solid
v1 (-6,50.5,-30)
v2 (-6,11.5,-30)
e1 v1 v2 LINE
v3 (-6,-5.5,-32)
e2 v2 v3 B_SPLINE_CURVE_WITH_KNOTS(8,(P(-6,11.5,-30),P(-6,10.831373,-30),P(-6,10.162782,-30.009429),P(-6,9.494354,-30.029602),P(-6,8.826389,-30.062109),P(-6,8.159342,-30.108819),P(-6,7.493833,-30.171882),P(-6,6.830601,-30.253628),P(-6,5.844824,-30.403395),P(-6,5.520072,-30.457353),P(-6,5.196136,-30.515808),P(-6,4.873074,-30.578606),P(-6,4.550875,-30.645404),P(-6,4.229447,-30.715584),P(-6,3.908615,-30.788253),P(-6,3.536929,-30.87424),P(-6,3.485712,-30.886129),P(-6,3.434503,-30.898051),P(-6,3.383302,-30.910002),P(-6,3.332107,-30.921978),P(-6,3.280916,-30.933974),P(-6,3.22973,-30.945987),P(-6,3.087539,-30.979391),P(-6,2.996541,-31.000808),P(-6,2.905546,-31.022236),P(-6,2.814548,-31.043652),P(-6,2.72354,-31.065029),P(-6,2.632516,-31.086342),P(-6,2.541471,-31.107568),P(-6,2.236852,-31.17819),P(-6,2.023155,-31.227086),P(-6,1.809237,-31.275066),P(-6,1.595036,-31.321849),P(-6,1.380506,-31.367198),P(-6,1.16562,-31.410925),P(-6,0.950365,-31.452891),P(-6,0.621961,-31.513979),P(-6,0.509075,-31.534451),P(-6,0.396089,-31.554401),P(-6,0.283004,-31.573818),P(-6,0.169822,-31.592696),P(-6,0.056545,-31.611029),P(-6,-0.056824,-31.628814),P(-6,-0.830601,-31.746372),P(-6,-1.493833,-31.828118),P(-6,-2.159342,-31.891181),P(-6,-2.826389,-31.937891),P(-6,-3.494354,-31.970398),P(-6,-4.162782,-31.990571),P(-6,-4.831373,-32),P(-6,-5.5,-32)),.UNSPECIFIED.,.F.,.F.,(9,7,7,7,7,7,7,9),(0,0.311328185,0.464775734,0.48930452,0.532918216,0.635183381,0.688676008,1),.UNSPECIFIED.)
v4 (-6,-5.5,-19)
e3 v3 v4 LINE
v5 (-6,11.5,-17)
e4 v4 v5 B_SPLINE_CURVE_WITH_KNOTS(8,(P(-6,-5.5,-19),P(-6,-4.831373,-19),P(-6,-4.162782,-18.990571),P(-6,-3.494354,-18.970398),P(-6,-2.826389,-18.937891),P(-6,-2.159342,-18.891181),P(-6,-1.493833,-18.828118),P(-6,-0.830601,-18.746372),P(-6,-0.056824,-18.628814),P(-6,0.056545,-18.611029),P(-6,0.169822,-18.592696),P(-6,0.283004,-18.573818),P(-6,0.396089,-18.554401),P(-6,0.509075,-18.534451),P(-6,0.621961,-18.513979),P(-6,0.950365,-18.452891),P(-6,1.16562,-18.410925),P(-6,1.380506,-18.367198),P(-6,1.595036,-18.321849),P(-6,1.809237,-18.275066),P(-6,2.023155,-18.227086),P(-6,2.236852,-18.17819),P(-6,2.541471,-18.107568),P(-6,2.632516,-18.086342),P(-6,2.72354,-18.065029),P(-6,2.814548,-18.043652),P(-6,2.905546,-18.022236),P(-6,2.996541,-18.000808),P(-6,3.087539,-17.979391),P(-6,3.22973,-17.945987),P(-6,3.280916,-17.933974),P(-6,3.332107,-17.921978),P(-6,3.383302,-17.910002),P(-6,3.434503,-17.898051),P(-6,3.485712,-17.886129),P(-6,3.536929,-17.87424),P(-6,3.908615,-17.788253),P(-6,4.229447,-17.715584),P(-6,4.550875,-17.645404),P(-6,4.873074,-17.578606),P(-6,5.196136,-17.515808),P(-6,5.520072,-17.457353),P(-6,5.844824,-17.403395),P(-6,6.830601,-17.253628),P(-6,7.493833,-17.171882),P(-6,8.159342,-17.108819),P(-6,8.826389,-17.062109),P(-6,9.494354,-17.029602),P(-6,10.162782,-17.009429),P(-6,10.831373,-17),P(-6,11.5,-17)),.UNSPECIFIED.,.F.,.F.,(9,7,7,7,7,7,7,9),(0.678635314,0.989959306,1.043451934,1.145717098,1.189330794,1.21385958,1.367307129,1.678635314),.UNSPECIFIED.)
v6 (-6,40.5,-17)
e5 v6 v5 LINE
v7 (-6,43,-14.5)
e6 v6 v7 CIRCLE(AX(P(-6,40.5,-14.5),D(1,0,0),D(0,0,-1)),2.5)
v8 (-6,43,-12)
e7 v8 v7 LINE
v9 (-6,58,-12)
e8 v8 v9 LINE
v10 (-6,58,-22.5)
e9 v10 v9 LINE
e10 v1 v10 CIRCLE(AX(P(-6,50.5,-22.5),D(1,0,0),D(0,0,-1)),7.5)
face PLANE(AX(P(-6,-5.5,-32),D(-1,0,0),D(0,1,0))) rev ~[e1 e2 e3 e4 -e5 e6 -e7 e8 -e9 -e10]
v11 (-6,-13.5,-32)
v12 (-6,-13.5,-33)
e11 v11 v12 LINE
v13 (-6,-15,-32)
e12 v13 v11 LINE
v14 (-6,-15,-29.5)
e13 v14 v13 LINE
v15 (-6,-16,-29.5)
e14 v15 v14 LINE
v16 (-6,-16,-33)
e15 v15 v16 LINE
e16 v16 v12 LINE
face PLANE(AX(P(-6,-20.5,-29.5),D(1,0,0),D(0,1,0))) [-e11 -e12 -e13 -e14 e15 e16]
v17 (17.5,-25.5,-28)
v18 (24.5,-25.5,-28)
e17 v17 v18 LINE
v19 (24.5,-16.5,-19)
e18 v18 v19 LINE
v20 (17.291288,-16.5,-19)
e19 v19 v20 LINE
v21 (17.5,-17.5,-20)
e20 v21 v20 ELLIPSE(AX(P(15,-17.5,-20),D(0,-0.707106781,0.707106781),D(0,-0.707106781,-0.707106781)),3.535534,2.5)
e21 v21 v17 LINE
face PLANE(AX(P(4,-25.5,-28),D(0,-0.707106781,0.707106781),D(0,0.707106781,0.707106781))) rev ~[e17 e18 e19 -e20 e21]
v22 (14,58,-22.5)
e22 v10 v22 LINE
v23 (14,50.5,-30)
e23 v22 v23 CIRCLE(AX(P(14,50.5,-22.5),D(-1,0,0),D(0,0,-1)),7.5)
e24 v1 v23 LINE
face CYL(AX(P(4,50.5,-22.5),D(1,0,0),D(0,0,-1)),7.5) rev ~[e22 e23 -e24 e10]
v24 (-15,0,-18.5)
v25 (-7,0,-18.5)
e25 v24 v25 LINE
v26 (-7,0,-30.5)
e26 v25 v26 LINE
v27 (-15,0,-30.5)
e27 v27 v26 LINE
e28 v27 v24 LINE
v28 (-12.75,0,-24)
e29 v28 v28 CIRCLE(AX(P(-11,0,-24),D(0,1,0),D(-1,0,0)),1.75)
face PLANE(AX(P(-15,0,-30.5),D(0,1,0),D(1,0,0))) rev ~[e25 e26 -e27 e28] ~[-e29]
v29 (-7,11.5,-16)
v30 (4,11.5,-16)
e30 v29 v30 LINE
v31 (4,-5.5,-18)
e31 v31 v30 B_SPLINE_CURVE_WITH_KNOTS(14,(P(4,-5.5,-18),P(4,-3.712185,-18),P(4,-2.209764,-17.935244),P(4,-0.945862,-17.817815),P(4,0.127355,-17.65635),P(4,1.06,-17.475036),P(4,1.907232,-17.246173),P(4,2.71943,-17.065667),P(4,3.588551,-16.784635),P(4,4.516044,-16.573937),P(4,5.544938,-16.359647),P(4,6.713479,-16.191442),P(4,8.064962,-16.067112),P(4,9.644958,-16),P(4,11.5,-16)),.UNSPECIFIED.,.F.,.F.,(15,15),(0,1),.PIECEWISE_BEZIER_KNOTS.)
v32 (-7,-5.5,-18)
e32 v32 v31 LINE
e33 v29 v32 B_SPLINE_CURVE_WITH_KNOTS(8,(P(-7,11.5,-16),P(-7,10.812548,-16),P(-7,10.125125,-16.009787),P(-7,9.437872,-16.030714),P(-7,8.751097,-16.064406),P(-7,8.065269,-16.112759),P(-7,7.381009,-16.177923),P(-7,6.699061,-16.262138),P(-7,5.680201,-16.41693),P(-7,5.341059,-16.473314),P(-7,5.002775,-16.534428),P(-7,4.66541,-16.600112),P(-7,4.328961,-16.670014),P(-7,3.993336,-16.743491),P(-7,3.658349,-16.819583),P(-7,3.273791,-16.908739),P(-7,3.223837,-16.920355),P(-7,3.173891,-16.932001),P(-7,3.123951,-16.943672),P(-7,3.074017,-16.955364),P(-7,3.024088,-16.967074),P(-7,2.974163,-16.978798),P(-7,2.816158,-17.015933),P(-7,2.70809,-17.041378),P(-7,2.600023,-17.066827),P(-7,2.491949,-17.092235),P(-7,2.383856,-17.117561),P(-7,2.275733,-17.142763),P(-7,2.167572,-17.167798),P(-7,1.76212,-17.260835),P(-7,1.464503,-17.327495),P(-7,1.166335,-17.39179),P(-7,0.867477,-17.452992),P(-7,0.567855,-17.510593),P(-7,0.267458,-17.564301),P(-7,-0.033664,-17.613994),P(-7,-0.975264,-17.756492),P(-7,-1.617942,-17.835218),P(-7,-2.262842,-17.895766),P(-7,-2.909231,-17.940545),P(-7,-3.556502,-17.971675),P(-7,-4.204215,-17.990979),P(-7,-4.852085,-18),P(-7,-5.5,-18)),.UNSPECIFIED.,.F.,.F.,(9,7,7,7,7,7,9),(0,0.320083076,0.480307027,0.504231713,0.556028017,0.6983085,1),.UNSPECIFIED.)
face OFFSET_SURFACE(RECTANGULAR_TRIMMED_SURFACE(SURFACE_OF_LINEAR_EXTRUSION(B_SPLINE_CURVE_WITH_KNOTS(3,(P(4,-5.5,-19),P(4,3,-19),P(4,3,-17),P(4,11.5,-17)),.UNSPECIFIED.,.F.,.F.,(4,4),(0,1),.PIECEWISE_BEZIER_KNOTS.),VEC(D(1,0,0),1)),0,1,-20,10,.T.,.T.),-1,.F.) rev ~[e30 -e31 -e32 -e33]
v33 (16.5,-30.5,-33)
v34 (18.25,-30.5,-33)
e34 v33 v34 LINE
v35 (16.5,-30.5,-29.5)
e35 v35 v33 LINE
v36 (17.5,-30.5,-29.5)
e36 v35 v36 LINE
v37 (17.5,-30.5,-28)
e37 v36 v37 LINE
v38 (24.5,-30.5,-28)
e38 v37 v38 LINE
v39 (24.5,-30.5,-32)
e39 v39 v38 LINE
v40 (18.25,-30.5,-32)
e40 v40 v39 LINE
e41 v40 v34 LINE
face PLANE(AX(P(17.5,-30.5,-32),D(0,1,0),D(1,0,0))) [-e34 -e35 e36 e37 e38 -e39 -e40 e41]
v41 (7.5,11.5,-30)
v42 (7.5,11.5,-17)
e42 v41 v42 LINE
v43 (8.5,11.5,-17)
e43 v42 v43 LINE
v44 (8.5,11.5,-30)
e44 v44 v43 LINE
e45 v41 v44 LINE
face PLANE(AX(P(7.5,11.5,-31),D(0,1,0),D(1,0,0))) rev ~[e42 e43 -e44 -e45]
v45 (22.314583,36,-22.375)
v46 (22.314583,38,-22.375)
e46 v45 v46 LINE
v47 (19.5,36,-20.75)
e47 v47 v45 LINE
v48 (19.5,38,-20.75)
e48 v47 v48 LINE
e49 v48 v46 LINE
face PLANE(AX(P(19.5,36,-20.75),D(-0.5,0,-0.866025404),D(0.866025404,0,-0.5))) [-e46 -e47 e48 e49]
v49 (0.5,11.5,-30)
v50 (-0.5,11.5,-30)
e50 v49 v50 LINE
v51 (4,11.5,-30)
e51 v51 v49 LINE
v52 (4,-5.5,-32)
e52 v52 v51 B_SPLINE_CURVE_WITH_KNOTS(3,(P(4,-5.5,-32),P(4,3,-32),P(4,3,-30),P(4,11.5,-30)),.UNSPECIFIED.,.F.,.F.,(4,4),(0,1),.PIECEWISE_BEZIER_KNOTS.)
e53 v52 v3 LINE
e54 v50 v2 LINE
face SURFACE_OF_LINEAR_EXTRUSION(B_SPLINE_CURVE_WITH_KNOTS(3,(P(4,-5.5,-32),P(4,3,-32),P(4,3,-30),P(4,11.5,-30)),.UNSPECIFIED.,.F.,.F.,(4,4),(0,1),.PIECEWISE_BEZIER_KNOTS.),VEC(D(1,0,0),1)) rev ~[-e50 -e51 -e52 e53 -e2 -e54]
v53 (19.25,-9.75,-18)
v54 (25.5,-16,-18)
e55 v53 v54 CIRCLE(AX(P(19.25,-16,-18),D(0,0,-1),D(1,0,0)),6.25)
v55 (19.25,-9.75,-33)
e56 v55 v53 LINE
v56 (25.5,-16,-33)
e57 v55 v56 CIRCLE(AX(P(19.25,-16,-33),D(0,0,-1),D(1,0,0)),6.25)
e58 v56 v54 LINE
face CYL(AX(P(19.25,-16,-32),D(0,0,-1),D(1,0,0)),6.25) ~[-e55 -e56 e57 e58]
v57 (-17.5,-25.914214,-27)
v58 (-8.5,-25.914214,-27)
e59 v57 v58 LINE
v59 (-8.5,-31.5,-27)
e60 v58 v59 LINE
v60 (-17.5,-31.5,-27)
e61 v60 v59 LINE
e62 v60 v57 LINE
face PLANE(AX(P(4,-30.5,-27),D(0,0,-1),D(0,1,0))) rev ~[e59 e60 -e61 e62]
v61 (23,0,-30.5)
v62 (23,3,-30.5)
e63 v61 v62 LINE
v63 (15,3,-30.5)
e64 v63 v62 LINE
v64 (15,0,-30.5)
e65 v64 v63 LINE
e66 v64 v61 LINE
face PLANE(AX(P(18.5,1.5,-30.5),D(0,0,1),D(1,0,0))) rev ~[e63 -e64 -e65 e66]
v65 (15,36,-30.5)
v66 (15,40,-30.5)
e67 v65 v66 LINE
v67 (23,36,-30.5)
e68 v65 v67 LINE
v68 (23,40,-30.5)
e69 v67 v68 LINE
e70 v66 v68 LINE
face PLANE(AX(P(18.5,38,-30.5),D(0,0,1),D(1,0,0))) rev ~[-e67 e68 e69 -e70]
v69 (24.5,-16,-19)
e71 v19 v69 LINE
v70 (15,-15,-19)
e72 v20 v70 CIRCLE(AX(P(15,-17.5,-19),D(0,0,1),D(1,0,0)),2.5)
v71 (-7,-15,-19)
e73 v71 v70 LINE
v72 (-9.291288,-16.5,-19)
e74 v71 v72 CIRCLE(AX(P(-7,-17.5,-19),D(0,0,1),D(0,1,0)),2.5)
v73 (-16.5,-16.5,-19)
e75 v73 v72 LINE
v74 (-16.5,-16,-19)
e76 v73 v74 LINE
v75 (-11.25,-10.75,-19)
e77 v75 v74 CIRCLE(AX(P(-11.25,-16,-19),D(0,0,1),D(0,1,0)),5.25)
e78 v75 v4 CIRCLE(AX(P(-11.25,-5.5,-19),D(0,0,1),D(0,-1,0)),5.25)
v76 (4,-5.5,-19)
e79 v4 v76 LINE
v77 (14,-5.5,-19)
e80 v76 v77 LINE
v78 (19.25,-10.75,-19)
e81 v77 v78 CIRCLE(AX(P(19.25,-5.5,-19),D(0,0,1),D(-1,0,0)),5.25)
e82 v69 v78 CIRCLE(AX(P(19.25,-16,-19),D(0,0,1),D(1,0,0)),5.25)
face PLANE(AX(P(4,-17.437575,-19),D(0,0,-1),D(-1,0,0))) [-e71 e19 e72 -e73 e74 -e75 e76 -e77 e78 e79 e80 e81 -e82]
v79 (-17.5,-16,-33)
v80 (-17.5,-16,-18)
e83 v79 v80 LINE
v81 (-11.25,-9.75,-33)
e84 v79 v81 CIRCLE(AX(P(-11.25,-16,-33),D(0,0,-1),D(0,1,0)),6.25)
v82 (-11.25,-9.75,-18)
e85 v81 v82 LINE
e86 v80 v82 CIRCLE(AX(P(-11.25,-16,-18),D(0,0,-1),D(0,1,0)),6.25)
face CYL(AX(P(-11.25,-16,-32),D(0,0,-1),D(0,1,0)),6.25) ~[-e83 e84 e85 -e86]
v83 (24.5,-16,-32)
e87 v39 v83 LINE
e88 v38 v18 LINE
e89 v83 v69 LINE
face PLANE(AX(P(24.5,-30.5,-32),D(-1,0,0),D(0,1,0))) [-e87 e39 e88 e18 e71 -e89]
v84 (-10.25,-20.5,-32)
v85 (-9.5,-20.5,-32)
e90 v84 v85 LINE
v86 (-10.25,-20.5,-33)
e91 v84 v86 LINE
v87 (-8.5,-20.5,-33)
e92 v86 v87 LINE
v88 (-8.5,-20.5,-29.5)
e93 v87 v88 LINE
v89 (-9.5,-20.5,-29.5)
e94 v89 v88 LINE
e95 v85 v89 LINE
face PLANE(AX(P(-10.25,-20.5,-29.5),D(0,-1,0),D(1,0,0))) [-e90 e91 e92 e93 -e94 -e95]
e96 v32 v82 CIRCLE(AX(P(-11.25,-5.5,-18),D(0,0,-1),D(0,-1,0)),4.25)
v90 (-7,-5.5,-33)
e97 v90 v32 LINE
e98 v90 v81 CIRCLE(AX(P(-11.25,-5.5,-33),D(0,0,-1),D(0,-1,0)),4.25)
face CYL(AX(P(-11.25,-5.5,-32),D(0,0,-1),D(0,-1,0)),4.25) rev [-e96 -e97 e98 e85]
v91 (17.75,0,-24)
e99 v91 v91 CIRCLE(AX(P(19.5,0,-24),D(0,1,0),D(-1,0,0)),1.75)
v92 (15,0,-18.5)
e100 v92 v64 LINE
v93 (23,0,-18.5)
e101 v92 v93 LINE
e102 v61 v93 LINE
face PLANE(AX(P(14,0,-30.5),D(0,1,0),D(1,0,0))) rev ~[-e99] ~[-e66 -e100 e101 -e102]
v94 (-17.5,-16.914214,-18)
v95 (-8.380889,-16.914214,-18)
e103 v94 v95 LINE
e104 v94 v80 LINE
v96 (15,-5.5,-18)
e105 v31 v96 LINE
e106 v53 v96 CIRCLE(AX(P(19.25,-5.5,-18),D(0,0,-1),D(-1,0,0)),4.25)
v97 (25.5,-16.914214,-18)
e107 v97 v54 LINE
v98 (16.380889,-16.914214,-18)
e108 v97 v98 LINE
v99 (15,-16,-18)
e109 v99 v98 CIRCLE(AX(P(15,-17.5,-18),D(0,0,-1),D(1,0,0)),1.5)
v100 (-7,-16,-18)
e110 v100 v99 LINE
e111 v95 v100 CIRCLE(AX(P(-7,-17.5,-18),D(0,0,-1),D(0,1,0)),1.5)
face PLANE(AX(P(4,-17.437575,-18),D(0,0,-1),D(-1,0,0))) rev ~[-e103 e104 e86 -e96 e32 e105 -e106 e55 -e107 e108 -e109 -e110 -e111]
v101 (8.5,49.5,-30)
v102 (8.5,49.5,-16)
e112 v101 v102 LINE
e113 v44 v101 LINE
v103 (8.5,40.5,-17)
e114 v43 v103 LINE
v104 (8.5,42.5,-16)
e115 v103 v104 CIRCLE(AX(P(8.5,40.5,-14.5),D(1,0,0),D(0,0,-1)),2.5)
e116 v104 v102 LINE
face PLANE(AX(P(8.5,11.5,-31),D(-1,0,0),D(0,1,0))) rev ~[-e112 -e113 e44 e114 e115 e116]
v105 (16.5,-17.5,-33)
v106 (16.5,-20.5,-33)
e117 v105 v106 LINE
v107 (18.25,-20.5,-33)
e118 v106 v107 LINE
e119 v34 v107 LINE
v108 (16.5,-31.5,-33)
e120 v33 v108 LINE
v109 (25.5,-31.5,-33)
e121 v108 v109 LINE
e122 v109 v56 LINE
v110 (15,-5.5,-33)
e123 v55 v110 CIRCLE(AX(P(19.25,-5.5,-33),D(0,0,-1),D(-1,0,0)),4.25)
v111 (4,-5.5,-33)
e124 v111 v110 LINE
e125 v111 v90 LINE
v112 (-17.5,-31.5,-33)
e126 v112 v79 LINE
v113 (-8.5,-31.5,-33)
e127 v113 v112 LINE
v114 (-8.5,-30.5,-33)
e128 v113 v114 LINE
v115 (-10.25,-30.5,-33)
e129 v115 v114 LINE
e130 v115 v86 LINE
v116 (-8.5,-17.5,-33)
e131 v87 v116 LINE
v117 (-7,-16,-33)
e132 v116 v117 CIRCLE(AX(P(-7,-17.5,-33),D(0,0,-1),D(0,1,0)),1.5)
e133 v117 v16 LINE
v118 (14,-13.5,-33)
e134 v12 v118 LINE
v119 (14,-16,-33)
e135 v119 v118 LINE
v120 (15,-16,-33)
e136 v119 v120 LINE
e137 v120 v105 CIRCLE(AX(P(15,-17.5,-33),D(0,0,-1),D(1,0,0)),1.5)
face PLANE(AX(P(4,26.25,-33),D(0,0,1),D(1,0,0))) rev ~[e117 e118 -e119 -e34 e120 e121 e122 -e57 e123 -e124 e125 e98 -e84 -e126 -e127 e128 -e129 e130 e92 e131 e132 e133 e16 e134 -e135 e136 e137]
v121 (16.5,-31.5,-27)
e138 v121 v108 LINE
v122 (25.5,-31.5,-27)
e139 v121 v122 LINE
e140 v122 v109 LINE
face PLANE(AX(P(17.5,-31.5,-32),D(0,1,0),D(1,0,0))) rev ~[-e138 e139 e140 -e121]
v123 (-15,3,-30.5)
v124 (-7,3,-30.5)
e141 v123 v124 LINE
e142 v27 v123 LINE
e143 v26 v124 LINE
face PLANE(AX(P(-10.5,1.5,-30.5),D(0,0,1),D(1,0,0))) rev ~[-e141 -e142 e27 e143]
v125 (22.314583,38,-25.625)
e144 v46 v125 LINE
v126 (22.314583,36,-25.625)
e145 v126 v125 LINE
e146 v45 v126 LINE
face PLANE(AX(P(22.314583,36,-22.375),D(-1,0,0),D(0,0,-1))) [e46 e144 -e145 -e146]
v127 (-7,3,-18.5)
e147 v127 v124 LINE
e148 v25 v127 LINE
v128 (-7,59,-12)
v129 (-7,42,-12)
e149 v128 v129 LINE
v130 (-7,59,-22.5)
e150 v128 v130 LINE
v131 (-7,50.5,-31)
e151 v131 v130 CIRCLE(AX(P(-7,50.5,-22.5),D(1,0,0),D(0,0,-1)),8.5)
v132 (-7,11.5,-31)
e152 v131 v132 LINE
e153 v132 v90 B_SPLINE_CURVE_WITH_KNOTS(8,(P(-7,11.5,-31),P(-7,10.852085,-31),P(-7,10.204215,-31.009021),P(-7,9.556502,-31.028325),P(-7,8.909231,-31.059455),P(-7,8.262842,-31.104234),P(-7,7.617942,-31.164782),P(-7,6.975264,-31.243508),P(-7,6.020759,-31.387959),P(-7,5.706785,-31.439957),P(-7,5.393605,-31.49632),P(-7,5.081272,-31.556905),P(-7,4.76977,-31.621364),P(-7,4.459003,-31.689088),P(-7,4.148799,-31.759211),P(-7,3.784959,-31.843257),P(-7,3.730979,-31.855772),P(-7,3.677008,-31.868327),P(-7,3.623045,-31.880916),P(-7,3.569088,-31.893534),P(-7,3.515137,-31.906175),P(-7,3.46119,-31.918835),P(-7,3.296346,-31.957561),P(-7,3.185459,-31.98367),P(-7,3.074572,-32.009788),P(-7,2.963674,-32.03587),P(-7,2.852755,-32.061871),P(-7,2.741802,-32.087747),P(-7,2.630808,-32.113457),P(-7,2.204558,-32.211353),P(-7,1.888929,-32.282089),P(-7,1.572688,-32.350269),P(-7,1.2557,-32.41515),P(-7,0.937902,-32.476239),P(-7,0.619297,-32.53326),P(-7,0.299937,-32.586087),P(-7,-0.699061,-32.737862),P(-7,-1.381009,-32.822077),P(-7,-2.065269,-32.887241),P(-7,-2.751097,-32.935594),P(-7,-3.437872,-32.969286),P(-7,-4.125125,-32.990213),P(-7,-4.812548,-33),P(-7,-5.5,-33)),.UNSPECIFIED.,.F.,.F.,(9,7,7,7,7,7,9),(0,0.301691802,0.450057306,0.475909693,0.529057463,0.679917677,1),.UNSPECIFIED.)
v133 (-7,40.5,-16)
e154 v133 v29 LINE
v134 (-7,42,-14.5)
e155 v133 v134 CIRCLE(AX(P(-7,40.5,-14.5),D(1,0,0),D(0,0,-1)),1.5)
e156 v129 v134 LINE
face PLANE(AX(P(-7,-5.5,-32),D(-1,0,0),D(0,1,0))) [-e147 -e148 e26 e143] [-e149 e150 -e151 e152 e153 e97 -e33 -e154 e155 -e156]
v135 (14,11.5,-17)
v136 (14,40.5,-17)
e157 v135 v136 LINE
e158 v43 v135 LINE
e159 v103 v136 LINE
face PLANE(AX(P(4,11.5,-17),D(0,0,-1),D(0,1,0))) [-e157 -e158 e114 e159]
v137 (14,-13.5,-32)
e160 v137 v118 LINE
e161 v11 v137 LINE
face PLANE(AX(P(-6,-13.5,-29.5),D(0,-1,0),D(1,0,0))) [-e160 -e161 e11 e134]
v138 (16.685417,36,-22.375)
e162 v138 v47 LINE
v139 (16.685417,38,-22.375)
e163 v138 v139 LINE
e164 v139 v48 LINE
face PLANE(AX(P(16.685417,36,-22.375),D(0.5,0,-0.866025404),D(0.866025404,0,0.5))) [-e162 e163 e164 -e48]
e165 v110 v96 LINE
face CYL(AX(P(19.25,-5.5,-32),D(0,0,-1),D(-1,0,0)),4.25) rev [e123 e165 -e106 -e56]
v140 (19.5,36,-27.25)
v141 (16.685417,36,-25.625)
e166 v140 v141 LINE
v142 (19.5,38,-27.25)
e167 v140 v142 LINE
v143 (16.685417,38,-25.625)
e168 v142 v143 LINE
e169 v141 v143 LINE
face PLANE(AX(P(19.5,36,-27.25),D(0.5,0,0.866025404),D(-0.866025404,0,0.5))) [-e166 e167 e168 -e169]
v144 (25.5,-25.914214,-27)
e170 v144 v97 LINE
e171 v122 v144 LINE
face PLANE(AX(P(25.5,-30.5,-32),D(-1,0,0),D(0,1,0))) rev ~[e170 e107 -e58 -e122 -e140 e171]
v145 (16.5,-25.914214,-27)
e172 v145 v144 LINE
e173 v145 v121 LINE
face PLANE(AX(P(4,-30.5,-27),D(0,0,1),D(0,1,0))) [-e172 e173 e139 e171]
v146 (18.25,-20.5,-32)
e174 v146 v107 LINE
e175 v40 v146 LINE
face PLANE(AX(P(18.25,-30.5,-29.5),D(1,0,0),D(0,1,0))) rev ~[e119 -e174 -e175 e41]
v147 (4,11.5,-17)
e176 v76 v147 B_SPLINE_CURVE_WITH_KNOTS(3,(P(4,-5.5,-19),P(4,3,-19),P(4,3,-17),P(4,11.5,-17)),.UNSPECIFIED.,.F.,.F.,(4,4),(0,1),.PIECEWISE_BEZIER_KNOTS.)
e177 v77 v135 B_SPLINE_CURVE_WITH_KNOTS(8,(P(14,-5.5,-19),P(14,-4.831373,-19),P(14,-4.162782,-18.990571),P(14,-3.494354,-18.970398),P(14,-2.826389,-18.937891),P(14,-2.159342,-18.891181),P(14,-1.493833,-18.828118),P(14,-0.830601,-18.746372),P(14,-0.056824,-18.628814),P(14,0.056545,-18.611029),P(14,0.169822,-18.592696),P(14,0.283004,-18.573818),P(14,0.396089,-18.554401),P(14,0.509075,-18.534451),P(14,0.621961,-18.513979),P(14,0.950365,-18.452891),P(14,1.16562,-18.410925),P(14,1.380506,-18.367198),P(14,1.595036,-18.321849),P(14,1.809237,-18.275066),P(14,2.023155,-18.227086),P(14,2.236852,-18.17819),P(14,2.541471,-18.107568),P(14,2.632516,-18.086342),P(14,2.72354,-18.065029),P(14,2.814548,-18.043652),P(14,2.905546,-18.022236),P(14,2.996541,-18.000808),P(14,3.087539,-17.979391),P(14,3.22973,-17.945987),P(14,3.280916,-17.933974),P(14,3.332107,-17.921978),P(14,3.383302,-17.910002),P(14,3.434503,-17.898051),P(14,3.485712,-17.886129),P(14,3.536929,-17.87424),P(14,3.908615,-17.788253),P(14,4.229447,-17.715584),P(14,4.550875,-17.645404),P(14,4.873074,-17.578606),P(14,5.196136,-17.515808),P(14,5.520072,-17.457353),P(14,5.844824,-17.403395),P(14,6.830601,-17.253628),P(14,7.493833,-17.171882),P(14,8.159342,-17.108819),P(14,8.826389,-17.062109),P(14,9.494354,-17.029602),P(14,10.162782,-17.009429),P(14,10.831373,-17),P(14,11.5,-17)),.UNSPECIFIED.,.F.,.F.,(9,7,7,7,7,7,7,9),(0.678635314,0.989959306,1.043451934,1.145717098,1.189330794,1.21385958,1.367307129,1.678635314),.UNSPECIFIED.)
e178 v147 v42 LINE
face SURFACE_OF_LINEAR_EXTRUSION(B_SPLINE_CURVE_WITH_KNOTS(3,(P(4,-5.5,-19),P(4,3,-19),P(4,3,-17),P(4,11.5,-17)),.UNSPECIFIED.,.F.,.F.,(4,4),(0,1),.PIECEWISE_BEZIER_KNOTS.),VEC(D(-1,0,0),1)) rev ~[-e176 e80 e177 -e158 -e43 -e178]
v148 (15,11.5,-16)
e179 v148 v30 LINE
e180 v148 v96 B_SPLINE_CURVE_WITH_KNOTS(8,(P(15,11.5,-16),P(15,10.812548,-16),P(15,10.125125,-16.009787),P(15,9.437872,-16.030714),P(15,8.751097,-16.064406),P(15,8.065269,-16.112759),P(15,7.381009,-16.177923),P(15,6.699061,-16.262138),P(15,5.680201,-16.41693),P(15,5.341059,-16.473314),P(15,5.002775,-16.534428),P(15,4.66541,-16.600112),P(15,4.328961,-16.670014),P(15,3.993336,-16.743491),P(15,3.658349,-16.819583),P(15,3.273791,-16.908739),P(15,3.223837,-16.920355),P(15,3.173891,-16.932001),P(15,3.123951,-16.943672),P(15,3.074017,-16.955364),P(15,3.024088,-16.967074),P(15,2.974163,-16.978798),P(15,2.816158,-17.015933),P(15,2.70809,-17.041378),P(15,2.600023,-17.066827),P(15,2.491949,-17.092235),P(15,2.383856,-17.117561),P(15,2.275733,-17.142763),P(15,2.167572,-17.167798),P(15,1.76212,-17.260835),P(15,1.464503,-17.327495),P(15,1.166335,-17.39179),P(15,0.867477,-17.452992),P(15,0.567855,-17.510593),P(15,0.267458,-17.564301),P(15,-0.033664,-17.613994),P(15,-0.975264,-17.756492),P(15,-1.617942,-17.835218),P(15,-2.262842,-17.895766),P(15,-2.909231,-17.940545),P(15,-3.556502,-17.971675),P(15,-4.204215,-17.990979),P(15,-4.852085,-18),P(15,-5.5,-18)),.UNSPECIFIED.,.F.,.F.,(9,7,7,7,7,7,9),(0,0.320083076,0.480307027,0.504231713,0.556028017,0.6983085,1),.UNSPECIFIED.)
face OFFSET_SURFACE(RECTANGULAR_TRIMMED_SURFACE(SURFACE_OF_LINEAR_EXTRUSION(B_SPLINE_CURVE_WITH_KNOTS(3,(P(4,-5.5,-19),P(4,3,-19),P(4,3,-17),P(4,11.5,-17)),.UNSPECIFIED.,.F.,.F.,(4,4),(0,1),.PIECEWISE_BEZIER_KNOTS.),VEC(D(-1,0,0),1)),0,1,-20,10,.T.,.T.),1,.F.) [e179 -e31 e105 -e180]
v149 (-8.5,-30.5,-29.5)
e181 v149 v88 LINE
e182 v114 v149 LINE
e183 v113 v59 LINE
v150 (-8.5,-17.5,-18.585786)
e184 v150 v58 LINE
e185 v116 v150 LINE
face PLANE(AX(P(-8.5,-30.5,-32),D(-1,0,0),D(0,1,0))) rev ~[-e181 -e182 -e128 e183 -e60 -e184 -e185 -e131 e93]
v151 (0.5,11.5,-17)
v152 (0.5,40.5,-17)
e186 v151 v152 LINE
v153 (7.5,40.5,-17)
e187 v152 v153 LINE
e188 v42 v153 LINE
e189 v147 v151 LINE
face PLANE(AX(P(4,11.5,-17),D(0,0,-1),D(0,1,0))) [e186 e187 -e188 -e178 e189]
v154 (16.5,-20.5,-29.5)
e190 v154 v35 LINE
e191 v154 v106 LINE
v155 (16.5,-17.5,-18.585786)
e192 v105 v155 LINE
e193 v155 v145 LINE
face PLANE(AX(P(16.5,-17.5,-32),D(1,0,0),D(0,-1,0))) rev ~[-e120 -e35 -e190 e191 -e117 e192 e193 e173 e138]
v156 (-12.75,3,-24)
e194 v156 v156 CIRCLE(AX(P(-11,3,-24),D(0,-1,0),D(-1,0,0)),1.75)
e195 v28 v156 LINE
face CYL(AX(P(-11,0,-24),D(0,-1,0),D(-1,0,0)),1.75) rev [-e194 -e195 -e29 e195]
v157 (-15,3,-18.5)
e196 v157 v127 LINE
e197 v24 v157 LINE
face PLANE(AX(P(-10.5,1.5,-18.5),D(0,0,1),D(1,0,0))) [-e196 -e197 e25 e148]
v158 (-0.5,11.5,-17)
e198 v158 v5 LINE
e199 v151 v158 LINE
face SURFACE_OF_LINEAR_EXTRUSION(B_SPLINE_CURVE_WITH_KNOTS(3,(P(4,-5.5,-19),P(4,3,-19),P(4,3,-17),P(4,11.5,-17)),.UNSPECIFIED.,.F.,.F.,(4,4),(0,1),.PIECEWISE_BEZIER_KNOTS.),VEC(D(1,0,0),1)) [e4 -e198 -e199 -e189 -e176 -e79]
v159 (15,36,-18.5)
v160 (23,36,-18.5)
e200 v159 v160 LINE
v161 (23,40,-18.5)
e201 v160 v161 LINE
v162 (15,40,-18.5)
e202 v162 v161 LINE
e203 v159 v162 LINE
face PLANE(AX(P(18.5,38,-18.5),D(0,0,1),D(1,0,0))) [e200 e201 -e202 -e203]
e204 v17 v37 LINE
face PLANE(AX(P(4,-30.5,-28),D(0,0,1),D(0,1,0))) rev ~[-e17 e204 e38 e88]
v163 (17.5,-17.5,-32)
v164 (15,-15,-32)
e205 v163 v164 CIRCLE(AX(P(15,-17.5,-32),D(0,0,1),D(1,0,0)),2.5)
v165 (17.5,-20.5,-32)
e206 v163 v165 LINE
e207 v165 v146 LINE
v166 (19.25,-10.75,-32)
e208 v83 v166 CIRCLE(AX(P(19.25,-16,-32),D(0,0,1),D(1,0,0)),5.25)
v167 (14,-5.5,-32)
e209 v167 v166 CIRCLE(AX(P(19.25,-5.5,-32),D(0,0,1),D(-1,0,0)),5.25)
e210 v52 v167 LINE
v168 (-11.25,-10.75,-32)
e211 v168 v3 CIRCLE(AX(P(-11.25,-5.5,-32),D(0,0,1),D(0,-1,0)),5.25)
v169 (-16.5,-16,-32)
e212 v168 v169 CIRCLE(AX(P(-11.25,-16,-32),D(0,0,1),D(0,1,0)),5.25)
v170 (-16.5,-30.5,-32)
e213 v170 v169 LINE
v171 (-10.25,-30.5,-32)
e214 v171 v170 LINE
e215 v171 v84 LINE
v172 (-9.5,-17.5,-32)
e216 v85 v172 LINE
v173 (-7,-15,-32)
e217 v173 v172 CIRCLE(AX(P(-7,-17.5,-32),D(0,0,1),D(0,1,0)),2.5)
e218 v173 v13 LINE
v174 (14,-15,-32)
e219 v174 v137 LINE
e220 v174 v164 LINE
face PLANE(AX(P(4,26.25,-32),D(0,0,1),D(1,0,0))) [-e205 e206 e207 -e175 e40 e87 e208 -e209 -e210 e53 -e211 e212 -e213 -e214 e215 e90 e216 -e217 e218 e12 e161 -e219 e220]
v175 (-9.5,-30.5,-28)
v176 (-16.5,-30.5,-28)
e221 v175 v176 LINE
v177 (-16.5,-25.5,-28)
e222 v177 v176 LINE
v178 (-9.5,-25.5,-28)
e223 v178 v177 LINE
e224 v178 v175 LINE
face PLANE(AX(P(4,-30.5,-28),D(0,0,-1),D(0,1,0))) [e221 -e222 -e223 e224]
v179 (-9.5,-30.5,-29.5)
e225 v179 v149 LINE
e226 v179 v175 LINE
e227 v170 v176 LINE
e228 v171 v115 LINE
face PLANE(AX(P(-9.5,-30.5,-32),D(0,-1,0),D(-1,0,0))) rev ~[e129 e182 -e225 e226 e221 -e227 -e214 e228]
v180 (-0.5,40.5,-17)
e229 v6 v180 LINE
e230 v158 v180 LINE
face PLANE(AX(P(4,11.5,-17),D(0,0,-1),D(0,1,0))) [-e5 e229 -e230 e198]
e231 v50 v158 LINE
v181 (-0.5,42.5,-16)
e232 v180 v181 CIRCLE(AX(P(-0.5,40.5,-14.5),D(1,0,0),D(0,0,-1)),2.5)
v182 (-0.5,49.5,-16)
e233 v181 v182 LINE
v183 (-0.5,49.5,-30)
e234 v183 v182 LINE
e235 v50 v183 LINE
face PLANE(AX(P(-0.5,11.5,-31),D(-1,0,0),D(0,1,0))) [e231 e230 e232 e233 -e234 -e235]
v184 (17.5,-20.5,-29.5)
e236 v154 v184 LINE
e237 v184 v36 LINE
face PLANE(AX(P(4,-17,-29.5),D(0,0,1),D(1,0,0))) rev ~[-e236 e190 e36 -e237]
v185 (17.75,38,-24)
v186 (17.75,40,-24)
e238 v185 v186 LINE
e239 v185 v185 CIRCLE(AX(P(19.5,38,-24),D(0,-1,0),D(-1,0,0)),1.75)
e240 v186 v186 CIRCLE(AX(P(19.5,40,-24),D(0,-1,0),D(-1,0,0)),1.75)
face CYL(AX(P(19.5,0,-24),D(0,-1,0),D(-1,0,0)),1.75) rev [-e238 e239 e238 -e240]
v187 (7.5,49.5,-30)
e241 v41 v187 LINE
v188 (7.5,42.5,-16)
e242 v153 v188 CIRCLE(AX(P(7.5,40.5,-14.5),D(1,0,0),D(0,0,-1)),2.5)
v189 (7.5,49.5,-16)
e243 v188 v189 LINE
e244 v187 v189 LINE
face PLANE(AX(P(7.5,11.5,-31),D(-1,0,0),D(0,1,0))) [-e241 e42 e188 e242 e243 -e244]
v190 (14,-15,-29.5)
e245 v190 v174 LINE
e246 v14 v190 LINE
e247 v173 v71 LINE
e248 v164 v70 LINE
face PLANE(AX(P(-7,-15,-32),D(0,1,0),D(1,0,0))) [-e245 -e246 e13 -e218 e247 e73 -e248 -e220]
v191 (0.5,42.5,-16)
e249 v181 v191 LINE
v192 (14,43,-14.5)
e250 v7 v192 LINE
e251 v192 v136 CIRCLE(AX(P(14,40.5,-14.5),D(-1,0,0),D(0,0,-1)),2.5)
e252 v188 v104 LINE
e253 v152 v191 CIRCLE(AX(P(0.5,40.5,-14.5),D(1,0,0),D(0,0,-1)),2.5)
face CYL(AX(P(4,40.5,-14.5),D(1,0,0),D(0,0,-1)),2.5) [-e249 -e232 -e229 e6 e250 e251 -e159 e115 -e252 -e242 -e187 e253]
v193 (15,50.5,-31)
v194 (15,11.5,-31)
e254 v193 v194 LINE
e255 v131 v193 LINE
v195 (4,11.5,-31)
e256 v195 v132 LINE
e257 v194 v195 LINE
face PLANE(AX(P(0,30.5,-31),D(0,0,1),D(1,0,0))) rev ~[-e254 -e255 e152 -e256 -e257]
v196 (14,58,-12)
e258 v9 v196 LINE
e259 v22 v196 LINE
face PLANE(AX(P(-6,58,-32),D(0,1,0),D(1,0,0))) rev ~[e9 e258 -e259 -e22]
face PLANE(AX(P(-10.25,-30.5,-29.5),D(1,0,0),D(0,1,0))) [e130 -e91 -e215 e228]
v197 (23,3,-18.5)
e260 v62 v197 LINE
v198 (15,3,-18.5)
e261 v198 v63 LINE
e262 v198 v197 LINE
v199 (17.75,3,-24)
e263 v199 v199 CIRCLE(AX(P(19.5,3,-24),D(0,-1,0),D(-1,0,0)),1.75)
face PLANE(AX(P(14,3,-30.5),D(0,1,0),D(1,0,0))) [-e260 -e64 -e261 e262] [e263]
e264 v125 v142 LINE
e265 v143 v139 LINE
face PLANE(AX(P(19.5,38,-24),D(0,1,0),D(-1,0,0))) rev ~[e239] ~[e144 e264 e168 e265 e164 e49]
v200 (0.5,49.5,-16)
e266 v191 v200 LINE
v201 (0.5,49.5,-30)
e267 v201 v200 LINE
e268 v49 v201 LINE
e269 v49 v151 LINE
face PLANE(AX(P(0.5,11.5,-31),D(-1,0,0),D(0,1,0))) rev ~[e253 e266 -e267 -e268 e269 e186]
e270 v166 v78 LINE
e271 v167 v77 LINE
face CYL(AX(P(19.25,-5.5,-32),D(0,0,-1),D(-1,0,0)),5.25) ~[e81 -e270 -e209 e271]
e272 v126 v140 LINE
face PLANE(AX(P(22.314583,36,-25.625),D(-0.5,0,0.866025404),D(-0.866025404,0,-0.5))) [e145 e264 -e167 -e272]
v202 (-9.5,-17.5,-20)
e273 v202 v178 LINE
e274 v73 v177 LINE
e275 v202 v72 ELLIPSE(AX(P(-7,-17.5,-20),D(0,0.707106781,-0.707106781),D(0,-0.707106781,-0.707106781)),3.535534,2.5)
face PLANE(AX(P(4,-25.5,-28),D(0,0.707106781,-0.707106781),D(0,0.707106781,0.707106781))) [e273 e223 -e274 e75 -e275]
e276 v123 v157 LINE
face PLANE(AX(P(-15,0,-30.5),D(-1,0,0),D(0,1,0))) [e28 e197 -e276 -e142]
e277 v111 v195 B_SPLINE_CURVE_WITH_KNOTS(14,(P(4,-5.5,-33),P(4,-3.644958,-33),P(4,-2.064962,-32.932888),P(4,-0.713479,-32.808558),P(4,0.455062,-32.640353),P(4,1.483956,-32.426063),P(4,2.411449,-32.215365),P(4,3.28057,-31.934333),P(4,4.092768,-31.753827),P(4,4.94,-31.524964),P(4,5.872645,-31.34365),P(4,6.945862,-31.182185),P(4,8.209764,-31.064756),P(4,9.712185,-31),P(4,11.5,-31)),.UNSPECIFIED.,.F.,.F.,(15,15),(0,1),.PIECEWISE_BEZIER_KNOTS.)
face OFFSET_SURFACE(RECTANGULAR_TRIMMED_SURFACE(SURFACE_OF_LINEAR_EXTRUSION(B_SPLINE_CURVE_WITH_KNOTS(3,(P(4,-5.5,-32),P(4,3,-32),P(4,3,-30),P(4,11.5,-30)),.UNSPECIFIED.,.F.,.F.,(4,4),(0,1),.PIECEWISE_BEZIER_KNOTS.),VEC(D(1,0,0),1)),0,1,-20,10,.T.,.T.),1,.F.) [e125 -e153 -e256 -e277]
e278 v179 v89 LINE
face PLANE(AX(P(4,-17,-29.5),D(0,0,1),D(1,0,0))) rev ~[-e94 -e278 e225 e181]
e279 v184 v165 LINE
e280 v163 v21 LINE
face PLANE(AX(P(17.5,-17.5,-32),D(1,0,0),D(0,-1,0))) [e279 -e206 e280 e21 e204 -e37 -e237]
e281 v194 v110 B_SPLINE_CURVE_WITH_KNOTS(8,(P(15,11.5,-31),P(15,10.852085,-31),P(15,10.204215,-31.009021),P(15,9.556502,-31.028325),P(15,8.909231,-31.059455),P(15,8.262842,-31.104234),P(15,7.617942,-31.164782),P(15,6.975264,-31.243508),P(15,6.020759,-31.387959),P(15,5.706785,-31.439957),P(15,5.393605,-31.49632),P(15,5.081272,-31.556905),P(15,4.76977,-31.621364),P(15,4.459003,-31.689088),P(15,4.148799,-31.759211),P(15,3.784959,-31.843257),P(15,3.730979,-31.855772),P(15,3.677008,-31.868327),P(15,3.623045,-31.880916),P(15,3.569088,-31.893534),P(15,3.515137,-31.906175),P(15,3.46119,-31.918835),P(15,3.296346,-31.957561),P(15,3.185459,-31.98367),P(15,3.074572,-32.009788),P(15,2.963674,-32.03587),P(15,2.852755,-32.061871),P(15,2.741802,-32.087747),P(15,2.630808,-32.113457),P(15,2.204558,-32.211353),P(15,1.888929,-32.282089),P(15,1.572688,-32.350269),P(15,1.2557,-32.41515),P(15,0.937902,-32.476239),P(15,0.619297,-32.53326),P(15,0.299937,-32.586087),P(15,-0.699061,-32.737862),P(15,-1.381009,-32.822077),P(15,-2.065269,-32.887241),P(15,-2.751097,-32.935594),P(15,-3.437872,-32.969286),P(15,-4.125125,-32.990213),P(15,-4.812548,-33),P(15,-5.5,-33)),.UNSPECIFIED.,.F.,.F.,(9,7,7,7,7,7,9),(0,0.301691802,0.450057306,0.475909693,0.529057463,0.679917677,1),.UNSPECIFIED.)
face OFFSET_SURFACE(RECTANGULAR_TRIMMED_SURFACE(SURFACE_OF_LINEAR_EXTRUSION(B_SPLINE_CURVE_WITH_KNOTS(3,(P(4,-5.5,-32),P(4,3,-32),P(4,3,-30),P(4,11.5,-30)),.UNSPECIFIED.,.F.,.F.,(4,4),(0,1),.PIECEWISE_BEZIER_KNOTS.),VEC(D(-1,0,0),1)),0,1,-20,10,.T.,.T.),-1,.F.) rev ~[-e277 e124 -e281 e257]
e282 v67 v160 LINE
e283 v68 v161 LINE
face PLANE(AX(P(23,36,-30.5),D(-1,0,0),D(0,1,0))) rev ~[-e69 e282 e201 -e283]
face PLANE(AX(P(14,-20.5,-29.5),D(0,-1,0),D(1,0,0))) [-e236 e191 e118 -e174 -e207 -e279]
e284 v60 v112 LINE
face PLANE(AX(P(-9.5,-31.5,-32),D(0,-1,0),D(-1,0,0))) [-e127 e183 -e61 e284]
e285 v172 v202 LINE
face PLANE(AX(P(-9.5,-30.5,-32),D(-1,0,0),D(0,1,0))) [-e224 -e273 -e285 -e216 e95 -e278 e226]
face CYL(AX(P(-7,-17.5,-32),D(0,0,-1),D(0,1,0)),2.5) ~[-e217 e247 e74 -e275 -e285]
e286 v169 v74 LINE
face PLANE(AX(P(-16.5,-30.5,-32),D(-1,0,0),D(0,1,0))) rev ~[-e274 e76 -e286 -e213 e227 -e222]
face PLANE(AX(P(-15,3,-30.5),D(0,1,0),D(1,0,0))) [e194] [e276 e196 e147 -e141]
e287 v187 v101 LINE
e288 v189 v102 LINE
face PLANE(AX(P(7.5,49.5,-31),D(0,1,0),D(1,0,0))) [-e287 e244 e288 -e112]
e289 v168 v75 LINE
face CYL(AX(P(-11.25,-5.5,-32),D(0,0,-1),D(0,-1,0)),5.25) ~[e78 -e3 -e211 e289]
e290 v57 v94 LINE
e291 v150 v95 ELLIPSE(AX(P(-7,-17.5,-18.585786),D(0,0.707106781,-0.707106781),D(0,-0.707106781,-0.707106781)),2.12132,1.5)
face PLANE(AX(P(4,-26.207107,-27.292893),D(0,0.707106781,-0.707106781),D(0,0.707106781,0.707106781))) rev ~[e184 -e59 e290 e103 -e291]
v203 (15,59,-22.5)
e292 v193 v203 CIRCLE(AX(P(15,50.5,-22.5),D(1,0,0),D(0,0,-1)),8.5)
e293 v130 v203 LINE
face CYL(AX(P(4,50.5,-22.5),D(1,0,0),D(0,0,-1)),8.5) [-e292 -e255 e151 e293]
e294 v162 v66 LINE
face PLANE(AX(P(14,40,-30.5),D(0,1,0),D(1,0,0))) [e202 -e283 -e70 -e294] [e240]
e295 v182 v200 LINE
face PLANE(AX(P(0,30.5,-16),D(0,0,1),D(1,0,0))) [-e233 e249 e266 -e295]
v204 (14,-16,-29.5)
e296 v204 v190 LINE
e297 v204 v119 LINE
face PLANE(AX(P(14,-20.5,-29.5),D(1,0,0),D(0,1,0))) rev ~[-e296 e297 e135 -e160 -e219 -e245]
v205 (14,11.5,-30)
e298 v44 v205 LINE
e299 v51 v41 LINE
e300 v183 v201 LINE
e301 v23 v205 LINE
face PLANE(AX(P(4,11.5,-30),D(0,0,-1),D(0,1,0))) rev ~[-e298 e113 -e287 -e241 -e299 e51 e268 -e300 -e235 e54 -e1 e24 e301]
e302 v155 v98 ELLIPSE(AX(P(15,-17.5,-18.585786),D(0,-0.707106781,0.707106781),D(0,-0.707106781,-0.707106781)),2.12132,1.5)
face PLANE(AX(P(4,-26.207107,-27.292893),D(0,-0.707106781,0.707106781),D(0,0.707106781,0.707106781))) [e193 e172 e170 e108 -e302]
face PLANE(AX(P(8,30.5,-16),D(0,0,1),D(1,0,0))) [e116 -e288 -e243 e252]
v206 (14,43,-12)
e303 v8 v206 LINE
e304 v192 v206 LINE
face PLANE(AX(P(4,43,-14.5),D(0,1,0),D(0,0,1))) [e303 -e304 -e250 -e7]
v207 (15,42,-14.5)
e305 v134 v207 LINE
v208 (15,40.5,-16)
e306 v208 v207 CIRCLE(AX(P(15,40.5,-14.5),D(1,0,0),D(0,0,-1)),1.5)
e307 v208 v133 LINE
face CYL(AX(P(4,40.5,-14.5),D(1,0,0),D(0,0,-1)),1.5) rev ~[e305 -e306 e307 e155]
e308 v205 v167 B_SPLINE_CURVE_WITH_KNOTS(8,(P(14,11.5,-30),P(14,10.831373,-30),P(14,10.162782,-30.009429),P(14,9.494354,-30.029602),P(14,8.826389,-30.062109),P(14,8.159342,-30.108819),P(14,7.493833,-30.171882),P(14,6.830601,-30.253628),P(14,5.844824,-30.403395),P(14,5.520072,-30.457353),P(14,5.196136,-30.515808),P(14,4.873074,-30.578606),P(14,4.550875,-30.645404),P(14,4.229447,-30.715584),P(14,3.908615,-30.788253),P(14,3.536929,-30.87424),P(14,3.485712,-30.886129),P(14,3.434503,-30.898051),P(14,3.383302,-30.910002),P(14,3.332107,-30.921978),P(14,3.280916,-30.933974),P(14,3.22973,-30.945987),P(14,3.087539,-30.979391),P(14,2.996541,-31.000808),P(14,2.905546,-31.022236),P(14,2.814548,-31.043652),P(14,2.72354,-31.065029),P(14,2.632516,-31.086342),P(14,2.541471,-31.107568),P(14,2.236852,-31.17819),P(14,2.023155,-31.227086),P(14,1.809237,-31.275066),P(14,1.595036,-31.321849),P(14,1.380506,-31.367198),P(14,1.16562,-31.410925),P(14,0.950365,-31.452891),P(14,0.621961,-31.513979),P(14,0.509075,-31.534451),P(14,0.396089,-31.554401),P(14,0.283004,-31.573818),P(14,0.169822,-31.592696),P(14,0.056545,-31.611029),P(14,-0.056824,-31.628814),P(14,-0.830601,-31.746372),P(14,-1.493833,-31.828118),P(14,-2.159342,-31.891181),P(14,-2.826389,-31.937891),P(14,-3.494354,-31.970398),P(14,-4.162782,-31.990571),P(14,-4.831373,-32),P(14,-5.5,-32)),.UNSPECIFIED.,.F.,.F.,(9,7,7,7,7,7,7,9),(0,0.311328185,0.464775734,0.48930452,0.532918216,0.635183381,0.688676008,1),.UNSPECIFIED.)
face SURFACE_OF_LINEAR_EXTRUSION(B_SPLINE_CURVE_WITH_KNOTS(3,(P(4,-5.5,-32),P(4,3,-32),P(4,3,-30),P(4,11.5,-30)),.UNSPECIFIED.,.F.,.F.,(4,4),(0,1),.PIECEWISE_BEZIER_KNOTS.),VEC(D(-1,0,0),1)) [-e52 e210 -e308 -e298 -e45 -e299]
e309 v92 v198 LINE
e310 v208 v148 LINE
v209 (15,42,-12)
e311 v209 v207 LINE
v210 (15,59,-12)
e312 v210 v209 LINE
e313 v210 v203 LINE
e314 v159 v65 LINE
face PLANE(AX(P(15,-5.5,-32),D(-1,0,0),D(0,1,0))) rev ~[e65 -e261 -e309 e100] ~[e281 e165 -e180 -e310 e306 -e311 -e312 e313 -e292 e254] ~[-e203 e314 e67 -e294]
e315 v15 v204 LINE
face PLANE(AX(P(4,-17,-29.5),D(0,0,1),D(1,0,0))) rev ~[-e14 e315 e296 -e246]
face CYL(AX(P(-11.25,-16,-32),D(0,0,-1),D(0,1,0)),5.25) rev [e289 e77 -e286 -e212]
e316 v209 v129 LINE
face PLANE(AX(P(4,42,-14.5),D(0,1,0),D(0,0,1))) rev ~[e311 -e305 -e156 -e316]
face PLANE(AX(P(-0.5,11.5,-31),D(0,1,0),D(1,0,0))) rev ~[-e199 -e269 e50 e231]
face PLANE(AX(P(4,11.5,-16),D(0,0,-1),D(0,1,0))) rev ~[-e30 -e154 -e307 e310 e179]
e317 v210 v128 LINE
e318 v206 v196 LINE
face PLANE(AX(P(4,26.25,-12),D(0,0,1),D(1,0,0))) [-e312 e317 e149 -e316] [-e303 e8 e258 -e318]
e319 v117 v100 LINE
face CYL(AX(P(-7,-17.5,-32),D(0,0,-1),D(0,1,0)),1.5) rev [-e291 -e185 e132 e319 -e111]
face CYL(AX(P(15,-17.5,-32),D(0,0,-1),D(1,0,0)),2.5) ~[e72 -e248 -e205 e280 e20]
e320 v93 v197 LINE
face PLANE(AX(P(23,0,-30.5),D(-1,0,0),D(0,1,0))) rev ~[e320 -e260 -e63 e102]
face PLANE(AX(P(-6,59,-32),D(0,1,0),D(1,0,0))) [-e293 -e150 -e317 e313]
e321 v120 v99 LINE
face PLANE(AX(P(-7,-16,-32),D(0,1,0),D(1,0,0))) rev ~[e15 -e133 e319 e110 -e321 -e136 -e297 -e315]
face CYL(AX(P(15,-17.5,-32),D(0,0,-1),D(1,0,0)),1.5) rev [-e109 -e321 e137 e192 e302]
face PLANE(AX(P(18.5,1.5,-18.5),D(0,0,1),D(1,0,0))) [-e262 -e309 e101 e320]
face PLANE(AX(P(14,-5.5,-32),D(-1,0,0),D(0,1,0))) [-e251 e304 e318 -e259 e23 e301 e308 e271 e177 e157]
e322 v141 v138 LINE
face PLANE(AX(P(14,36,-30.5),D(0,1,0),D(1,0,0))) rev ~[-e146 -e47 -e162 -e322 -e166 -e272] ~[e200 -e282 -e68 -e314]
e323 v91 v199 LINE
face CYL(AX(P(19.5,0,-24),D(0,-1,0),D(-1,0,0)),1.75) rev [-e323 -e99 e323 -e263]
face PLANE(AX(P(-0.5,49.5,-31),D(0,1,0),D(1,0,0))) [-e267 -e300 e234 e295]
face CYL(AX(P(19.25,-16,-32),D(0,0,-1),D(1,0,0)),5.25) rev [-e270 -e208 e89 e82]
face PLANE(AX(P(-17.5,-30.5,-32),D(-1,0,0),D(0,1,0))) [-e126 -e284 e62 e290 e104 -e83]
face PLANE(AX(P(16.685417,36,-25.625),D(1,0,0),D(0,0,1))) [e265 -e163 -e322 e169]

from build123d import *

# Parameters (mm, degrees)
PAD008_DEPTH         = 13
POCKET012_DEPTH      = 20.501
POCKET012_DEPTH_BACK = 20.501
SKETCH037_W          = 20
SKETCH037_H          = 63.5
PAD012_DEPTH         = 20
POCKET020_DEPTH      = 20.501
POCKET020_DEPTH_BACK = 20.501
THICKNESS_T          = 1
SKETCH028_W          = 20
SKETCH028_H          = 7
SKETCH028_W_2        = 28.5
SKETCH028_H_2        = 10
POCKET021_DEPTH      = 5
SKETCH029_W          = 9
SKETCH029_H          = 3
SKETCH029_W_2        = 9.0000000001
SKETCH029_H_2        = 4
PAD013_DEPTH         = 12
SKETCH030_R          = 1.75
POCKET022_DEPTH      = 59.0010001
POCKET023_DEPTH      = 2
SKETCH041_W          = 1
SKETCH041_H          = 38
PAD016_DEPTH         = 15


with BuildPart() as part:
    # Sketch020 → Pad008 (new body)
    with BuildSketch(Plane.XY):
        with BuildLine():
            Line((-13.5, 0), (-13.5, -10))
            Line((-13.5, -10), (-20.5, -10))
            Line((-20.5, -10), (-20.5, 4.5))
            ThreePointArc((-15.25, 9.75), (-18.9623106012, 8.2123106012), (-20.5, 4.5))
            ThreePointArc((-15.25, 9.7500000001), (-11.5376893988, 11.2876893988), (-10, 15))
            Line((-10, 15), (10, 15))
            ThreePointArc((10, 15), (11.5376893988, 11.2876893988), (15.25, 9.75))
            ThreePointArc((20.5, 4.5), (18.9623106012, 8.2123106012), (15.25, 9.75))
            Line((20.5, -10), (20.5, 4.5))
            Line((13.5, -10), (20.5, -10))
            Line((13.5, 0), (13.5, -10))
            Line((13.5, 0), (13.5, 3))
            ThreePointArc((13.5, 3), (12.767766953, 4.767766953), (11, 5.5))
            Line((-11, 5.5), (11, 5.5))
            ThreePointArc((-11, 5.5), (-12.767766953, 4.767766953), (-13.5, 3))
            Line((-13.5, 0), (-13.5, 3))
        make_face()
    extrude(amount=PAD008_DEPTH)

    # Sketch021 → Pocket012 (cut, two sides)
    with BuildSketch(Plane.YZ) as pocket012_sk:
        Polygon((-10, 4), (-5, 4), (10, 19), (-10, 19), align=None)
    extrude(amount=-POCKET012_DEPTH, mode=Mode.SUBTRACT)
    extrude(pocket012_sk.sketch, amount=POCKET012_DEPTH_BACK, mode=Mode.SUBTRACT)

    # Sketch037 → Pad012 (join)
    with BuildSketch(Plane.XY):
        with Locations((0, 46.75)):
            Rectangle(SKETCH037_W, SKETCH037_H)
    extrude(amount=PAD012_DEPTH)

    # Sketch038 → Pocket020 (cut, two sides)
    with BuildSketch(Plane.YZ) as pocket020_sk:
        with BuildLine():
            Line((15, 33), (15, 13))
            add(Edge.make_bspline(
                [(15, 13), (23.5, 13), (23.5, 15), (32, 15)],
                knots=[0, 0, 0, 0, 1, 1, 1, 1], degree=3))
            Line((32, 15), (61, 15))
            ThreePointArc((61, 15), (62.767766953, 15.732233047), (63.5, 17.5))
            Line((63.5, 17.5), (63.5, 33))
            Line((63.5, 33), (15, 33))
        make_face()
        with BuildLine():
            add(Edge.make_bspline(
                [(15, 0), (23.5, 0), (23.5, 2), (32, 2)],
                knots=[0, 0, 0, 0, 1, 1, 1, 1], degree=3))
            Line((32, 2), (71, 2))
            ThreePointArc((71, 2), (76.3033008589, 4.1966991411), (78.5, 9.5))
            Line((78.5, 9.5), (78.5, 33))
            Line((78.5, 33), (98.5, 33))
            Line((98.5, 33), (98.5, 0))
            Line((98.5, 0), (15, 0))
        make_face()
    extrude(amount=-POCKET020_DEPTH, mode=Mode.SUBTRACT)
    extrude(pocket020_sk.sketch, amount=POCKET020_DEPTH_BACK, mode=Mode.SUBTRACT)

    # Thickness
    thickness_openings = [part.faces().sort_by_distance(p)[0] for p in [
        (0, 71, 20),
    ]]
    offset(amount=THICKNESS_T, openings=thickness_openings, kind=Kind.INTERSECTION)

    # Sketch028 (on DatumPlane) → Pocket021 (cut)
    with BuildSketch(Plane.XY.offset(2.5)):
        with Locations((0, 3.5)):
            Rectangle(SKETCH028_W, SKETCH028_H)
        with Locations((0, -5)):
            Rectangle(SKETCH028_W_2, SKETCH028_H_2)
    extrude(amount=-POCKET021_DEPTH, mode=Mode.SUBTRACT)

    # Sketch029 (on DatumPlane) → Pad013 (join)
    with BuildSketch(Plane.XY.offset(1.5)):
        with Locations((14.5, 22)):
            Rectangle(SKETCH029_W, SKETCH029_H)
        with Locations((-14.5, 22)):
            Rectangle(SKETCH029_W, SKETCH029_H)
        with Locations((14.5, 58.5)):
            Rectangle(SKETCH029_W_2, SKETCH029_H_2)
    extrude(amount=PAD013_DEPTH)

    # Sketch030 (on DatumPlane) → Pocket022 (cut, through all)
    with BuildSketch(Plane(origin=(0, 20.5, 0), x_dir=(-1, 0, 0), z_dir=(0, 1, 0))):
        with Locations((-15.5, 8)):
            Circle(SKETCH030_R)
        with Locations((15, 8)):
            Circle(SKETCH030_R)
    extrude(amount=POCKET022_DEPTH, mode=Mode.SUBTRACT)

    # Sketch035 (on DatumPlane) → Pocket023 (cut)
    with BuildSketch(Plane(origin=(0, 56.5, 0), x_dir=(-1, 0, 0), z_dir=(0, 1, 0))):
        Polygon((-12.6854174377, 6.375), (-12.6854174377, 9.625), (-15.5, 11.25), (-18.3145825623, 9.625), (-18.3145825623, 6.375), (-15.5, 4.75), align=None)
    extrude(amount=POCKET023_DEPTH, mode=Mode.SUBTRACT)

    # Sketch041 (on DatumPlane) → Pad016 (join)
    with BuildSketch(Plane.XY.offset(1)):
        with Locations((-4, 51)):
            Rectangle(SKETCH041_W, SKETCH041_H)
        with Locations((4, 51)):
            Rectangle(SKETCH041_W, SKETCH041_H)
    extrude(amount=PAD016_DEPTH)


with BuildPart() as part_1:
    # Body003 placement: moved
    add(part.part.moved(Location((4, -20.5, -32))))


solid = part_1.part
